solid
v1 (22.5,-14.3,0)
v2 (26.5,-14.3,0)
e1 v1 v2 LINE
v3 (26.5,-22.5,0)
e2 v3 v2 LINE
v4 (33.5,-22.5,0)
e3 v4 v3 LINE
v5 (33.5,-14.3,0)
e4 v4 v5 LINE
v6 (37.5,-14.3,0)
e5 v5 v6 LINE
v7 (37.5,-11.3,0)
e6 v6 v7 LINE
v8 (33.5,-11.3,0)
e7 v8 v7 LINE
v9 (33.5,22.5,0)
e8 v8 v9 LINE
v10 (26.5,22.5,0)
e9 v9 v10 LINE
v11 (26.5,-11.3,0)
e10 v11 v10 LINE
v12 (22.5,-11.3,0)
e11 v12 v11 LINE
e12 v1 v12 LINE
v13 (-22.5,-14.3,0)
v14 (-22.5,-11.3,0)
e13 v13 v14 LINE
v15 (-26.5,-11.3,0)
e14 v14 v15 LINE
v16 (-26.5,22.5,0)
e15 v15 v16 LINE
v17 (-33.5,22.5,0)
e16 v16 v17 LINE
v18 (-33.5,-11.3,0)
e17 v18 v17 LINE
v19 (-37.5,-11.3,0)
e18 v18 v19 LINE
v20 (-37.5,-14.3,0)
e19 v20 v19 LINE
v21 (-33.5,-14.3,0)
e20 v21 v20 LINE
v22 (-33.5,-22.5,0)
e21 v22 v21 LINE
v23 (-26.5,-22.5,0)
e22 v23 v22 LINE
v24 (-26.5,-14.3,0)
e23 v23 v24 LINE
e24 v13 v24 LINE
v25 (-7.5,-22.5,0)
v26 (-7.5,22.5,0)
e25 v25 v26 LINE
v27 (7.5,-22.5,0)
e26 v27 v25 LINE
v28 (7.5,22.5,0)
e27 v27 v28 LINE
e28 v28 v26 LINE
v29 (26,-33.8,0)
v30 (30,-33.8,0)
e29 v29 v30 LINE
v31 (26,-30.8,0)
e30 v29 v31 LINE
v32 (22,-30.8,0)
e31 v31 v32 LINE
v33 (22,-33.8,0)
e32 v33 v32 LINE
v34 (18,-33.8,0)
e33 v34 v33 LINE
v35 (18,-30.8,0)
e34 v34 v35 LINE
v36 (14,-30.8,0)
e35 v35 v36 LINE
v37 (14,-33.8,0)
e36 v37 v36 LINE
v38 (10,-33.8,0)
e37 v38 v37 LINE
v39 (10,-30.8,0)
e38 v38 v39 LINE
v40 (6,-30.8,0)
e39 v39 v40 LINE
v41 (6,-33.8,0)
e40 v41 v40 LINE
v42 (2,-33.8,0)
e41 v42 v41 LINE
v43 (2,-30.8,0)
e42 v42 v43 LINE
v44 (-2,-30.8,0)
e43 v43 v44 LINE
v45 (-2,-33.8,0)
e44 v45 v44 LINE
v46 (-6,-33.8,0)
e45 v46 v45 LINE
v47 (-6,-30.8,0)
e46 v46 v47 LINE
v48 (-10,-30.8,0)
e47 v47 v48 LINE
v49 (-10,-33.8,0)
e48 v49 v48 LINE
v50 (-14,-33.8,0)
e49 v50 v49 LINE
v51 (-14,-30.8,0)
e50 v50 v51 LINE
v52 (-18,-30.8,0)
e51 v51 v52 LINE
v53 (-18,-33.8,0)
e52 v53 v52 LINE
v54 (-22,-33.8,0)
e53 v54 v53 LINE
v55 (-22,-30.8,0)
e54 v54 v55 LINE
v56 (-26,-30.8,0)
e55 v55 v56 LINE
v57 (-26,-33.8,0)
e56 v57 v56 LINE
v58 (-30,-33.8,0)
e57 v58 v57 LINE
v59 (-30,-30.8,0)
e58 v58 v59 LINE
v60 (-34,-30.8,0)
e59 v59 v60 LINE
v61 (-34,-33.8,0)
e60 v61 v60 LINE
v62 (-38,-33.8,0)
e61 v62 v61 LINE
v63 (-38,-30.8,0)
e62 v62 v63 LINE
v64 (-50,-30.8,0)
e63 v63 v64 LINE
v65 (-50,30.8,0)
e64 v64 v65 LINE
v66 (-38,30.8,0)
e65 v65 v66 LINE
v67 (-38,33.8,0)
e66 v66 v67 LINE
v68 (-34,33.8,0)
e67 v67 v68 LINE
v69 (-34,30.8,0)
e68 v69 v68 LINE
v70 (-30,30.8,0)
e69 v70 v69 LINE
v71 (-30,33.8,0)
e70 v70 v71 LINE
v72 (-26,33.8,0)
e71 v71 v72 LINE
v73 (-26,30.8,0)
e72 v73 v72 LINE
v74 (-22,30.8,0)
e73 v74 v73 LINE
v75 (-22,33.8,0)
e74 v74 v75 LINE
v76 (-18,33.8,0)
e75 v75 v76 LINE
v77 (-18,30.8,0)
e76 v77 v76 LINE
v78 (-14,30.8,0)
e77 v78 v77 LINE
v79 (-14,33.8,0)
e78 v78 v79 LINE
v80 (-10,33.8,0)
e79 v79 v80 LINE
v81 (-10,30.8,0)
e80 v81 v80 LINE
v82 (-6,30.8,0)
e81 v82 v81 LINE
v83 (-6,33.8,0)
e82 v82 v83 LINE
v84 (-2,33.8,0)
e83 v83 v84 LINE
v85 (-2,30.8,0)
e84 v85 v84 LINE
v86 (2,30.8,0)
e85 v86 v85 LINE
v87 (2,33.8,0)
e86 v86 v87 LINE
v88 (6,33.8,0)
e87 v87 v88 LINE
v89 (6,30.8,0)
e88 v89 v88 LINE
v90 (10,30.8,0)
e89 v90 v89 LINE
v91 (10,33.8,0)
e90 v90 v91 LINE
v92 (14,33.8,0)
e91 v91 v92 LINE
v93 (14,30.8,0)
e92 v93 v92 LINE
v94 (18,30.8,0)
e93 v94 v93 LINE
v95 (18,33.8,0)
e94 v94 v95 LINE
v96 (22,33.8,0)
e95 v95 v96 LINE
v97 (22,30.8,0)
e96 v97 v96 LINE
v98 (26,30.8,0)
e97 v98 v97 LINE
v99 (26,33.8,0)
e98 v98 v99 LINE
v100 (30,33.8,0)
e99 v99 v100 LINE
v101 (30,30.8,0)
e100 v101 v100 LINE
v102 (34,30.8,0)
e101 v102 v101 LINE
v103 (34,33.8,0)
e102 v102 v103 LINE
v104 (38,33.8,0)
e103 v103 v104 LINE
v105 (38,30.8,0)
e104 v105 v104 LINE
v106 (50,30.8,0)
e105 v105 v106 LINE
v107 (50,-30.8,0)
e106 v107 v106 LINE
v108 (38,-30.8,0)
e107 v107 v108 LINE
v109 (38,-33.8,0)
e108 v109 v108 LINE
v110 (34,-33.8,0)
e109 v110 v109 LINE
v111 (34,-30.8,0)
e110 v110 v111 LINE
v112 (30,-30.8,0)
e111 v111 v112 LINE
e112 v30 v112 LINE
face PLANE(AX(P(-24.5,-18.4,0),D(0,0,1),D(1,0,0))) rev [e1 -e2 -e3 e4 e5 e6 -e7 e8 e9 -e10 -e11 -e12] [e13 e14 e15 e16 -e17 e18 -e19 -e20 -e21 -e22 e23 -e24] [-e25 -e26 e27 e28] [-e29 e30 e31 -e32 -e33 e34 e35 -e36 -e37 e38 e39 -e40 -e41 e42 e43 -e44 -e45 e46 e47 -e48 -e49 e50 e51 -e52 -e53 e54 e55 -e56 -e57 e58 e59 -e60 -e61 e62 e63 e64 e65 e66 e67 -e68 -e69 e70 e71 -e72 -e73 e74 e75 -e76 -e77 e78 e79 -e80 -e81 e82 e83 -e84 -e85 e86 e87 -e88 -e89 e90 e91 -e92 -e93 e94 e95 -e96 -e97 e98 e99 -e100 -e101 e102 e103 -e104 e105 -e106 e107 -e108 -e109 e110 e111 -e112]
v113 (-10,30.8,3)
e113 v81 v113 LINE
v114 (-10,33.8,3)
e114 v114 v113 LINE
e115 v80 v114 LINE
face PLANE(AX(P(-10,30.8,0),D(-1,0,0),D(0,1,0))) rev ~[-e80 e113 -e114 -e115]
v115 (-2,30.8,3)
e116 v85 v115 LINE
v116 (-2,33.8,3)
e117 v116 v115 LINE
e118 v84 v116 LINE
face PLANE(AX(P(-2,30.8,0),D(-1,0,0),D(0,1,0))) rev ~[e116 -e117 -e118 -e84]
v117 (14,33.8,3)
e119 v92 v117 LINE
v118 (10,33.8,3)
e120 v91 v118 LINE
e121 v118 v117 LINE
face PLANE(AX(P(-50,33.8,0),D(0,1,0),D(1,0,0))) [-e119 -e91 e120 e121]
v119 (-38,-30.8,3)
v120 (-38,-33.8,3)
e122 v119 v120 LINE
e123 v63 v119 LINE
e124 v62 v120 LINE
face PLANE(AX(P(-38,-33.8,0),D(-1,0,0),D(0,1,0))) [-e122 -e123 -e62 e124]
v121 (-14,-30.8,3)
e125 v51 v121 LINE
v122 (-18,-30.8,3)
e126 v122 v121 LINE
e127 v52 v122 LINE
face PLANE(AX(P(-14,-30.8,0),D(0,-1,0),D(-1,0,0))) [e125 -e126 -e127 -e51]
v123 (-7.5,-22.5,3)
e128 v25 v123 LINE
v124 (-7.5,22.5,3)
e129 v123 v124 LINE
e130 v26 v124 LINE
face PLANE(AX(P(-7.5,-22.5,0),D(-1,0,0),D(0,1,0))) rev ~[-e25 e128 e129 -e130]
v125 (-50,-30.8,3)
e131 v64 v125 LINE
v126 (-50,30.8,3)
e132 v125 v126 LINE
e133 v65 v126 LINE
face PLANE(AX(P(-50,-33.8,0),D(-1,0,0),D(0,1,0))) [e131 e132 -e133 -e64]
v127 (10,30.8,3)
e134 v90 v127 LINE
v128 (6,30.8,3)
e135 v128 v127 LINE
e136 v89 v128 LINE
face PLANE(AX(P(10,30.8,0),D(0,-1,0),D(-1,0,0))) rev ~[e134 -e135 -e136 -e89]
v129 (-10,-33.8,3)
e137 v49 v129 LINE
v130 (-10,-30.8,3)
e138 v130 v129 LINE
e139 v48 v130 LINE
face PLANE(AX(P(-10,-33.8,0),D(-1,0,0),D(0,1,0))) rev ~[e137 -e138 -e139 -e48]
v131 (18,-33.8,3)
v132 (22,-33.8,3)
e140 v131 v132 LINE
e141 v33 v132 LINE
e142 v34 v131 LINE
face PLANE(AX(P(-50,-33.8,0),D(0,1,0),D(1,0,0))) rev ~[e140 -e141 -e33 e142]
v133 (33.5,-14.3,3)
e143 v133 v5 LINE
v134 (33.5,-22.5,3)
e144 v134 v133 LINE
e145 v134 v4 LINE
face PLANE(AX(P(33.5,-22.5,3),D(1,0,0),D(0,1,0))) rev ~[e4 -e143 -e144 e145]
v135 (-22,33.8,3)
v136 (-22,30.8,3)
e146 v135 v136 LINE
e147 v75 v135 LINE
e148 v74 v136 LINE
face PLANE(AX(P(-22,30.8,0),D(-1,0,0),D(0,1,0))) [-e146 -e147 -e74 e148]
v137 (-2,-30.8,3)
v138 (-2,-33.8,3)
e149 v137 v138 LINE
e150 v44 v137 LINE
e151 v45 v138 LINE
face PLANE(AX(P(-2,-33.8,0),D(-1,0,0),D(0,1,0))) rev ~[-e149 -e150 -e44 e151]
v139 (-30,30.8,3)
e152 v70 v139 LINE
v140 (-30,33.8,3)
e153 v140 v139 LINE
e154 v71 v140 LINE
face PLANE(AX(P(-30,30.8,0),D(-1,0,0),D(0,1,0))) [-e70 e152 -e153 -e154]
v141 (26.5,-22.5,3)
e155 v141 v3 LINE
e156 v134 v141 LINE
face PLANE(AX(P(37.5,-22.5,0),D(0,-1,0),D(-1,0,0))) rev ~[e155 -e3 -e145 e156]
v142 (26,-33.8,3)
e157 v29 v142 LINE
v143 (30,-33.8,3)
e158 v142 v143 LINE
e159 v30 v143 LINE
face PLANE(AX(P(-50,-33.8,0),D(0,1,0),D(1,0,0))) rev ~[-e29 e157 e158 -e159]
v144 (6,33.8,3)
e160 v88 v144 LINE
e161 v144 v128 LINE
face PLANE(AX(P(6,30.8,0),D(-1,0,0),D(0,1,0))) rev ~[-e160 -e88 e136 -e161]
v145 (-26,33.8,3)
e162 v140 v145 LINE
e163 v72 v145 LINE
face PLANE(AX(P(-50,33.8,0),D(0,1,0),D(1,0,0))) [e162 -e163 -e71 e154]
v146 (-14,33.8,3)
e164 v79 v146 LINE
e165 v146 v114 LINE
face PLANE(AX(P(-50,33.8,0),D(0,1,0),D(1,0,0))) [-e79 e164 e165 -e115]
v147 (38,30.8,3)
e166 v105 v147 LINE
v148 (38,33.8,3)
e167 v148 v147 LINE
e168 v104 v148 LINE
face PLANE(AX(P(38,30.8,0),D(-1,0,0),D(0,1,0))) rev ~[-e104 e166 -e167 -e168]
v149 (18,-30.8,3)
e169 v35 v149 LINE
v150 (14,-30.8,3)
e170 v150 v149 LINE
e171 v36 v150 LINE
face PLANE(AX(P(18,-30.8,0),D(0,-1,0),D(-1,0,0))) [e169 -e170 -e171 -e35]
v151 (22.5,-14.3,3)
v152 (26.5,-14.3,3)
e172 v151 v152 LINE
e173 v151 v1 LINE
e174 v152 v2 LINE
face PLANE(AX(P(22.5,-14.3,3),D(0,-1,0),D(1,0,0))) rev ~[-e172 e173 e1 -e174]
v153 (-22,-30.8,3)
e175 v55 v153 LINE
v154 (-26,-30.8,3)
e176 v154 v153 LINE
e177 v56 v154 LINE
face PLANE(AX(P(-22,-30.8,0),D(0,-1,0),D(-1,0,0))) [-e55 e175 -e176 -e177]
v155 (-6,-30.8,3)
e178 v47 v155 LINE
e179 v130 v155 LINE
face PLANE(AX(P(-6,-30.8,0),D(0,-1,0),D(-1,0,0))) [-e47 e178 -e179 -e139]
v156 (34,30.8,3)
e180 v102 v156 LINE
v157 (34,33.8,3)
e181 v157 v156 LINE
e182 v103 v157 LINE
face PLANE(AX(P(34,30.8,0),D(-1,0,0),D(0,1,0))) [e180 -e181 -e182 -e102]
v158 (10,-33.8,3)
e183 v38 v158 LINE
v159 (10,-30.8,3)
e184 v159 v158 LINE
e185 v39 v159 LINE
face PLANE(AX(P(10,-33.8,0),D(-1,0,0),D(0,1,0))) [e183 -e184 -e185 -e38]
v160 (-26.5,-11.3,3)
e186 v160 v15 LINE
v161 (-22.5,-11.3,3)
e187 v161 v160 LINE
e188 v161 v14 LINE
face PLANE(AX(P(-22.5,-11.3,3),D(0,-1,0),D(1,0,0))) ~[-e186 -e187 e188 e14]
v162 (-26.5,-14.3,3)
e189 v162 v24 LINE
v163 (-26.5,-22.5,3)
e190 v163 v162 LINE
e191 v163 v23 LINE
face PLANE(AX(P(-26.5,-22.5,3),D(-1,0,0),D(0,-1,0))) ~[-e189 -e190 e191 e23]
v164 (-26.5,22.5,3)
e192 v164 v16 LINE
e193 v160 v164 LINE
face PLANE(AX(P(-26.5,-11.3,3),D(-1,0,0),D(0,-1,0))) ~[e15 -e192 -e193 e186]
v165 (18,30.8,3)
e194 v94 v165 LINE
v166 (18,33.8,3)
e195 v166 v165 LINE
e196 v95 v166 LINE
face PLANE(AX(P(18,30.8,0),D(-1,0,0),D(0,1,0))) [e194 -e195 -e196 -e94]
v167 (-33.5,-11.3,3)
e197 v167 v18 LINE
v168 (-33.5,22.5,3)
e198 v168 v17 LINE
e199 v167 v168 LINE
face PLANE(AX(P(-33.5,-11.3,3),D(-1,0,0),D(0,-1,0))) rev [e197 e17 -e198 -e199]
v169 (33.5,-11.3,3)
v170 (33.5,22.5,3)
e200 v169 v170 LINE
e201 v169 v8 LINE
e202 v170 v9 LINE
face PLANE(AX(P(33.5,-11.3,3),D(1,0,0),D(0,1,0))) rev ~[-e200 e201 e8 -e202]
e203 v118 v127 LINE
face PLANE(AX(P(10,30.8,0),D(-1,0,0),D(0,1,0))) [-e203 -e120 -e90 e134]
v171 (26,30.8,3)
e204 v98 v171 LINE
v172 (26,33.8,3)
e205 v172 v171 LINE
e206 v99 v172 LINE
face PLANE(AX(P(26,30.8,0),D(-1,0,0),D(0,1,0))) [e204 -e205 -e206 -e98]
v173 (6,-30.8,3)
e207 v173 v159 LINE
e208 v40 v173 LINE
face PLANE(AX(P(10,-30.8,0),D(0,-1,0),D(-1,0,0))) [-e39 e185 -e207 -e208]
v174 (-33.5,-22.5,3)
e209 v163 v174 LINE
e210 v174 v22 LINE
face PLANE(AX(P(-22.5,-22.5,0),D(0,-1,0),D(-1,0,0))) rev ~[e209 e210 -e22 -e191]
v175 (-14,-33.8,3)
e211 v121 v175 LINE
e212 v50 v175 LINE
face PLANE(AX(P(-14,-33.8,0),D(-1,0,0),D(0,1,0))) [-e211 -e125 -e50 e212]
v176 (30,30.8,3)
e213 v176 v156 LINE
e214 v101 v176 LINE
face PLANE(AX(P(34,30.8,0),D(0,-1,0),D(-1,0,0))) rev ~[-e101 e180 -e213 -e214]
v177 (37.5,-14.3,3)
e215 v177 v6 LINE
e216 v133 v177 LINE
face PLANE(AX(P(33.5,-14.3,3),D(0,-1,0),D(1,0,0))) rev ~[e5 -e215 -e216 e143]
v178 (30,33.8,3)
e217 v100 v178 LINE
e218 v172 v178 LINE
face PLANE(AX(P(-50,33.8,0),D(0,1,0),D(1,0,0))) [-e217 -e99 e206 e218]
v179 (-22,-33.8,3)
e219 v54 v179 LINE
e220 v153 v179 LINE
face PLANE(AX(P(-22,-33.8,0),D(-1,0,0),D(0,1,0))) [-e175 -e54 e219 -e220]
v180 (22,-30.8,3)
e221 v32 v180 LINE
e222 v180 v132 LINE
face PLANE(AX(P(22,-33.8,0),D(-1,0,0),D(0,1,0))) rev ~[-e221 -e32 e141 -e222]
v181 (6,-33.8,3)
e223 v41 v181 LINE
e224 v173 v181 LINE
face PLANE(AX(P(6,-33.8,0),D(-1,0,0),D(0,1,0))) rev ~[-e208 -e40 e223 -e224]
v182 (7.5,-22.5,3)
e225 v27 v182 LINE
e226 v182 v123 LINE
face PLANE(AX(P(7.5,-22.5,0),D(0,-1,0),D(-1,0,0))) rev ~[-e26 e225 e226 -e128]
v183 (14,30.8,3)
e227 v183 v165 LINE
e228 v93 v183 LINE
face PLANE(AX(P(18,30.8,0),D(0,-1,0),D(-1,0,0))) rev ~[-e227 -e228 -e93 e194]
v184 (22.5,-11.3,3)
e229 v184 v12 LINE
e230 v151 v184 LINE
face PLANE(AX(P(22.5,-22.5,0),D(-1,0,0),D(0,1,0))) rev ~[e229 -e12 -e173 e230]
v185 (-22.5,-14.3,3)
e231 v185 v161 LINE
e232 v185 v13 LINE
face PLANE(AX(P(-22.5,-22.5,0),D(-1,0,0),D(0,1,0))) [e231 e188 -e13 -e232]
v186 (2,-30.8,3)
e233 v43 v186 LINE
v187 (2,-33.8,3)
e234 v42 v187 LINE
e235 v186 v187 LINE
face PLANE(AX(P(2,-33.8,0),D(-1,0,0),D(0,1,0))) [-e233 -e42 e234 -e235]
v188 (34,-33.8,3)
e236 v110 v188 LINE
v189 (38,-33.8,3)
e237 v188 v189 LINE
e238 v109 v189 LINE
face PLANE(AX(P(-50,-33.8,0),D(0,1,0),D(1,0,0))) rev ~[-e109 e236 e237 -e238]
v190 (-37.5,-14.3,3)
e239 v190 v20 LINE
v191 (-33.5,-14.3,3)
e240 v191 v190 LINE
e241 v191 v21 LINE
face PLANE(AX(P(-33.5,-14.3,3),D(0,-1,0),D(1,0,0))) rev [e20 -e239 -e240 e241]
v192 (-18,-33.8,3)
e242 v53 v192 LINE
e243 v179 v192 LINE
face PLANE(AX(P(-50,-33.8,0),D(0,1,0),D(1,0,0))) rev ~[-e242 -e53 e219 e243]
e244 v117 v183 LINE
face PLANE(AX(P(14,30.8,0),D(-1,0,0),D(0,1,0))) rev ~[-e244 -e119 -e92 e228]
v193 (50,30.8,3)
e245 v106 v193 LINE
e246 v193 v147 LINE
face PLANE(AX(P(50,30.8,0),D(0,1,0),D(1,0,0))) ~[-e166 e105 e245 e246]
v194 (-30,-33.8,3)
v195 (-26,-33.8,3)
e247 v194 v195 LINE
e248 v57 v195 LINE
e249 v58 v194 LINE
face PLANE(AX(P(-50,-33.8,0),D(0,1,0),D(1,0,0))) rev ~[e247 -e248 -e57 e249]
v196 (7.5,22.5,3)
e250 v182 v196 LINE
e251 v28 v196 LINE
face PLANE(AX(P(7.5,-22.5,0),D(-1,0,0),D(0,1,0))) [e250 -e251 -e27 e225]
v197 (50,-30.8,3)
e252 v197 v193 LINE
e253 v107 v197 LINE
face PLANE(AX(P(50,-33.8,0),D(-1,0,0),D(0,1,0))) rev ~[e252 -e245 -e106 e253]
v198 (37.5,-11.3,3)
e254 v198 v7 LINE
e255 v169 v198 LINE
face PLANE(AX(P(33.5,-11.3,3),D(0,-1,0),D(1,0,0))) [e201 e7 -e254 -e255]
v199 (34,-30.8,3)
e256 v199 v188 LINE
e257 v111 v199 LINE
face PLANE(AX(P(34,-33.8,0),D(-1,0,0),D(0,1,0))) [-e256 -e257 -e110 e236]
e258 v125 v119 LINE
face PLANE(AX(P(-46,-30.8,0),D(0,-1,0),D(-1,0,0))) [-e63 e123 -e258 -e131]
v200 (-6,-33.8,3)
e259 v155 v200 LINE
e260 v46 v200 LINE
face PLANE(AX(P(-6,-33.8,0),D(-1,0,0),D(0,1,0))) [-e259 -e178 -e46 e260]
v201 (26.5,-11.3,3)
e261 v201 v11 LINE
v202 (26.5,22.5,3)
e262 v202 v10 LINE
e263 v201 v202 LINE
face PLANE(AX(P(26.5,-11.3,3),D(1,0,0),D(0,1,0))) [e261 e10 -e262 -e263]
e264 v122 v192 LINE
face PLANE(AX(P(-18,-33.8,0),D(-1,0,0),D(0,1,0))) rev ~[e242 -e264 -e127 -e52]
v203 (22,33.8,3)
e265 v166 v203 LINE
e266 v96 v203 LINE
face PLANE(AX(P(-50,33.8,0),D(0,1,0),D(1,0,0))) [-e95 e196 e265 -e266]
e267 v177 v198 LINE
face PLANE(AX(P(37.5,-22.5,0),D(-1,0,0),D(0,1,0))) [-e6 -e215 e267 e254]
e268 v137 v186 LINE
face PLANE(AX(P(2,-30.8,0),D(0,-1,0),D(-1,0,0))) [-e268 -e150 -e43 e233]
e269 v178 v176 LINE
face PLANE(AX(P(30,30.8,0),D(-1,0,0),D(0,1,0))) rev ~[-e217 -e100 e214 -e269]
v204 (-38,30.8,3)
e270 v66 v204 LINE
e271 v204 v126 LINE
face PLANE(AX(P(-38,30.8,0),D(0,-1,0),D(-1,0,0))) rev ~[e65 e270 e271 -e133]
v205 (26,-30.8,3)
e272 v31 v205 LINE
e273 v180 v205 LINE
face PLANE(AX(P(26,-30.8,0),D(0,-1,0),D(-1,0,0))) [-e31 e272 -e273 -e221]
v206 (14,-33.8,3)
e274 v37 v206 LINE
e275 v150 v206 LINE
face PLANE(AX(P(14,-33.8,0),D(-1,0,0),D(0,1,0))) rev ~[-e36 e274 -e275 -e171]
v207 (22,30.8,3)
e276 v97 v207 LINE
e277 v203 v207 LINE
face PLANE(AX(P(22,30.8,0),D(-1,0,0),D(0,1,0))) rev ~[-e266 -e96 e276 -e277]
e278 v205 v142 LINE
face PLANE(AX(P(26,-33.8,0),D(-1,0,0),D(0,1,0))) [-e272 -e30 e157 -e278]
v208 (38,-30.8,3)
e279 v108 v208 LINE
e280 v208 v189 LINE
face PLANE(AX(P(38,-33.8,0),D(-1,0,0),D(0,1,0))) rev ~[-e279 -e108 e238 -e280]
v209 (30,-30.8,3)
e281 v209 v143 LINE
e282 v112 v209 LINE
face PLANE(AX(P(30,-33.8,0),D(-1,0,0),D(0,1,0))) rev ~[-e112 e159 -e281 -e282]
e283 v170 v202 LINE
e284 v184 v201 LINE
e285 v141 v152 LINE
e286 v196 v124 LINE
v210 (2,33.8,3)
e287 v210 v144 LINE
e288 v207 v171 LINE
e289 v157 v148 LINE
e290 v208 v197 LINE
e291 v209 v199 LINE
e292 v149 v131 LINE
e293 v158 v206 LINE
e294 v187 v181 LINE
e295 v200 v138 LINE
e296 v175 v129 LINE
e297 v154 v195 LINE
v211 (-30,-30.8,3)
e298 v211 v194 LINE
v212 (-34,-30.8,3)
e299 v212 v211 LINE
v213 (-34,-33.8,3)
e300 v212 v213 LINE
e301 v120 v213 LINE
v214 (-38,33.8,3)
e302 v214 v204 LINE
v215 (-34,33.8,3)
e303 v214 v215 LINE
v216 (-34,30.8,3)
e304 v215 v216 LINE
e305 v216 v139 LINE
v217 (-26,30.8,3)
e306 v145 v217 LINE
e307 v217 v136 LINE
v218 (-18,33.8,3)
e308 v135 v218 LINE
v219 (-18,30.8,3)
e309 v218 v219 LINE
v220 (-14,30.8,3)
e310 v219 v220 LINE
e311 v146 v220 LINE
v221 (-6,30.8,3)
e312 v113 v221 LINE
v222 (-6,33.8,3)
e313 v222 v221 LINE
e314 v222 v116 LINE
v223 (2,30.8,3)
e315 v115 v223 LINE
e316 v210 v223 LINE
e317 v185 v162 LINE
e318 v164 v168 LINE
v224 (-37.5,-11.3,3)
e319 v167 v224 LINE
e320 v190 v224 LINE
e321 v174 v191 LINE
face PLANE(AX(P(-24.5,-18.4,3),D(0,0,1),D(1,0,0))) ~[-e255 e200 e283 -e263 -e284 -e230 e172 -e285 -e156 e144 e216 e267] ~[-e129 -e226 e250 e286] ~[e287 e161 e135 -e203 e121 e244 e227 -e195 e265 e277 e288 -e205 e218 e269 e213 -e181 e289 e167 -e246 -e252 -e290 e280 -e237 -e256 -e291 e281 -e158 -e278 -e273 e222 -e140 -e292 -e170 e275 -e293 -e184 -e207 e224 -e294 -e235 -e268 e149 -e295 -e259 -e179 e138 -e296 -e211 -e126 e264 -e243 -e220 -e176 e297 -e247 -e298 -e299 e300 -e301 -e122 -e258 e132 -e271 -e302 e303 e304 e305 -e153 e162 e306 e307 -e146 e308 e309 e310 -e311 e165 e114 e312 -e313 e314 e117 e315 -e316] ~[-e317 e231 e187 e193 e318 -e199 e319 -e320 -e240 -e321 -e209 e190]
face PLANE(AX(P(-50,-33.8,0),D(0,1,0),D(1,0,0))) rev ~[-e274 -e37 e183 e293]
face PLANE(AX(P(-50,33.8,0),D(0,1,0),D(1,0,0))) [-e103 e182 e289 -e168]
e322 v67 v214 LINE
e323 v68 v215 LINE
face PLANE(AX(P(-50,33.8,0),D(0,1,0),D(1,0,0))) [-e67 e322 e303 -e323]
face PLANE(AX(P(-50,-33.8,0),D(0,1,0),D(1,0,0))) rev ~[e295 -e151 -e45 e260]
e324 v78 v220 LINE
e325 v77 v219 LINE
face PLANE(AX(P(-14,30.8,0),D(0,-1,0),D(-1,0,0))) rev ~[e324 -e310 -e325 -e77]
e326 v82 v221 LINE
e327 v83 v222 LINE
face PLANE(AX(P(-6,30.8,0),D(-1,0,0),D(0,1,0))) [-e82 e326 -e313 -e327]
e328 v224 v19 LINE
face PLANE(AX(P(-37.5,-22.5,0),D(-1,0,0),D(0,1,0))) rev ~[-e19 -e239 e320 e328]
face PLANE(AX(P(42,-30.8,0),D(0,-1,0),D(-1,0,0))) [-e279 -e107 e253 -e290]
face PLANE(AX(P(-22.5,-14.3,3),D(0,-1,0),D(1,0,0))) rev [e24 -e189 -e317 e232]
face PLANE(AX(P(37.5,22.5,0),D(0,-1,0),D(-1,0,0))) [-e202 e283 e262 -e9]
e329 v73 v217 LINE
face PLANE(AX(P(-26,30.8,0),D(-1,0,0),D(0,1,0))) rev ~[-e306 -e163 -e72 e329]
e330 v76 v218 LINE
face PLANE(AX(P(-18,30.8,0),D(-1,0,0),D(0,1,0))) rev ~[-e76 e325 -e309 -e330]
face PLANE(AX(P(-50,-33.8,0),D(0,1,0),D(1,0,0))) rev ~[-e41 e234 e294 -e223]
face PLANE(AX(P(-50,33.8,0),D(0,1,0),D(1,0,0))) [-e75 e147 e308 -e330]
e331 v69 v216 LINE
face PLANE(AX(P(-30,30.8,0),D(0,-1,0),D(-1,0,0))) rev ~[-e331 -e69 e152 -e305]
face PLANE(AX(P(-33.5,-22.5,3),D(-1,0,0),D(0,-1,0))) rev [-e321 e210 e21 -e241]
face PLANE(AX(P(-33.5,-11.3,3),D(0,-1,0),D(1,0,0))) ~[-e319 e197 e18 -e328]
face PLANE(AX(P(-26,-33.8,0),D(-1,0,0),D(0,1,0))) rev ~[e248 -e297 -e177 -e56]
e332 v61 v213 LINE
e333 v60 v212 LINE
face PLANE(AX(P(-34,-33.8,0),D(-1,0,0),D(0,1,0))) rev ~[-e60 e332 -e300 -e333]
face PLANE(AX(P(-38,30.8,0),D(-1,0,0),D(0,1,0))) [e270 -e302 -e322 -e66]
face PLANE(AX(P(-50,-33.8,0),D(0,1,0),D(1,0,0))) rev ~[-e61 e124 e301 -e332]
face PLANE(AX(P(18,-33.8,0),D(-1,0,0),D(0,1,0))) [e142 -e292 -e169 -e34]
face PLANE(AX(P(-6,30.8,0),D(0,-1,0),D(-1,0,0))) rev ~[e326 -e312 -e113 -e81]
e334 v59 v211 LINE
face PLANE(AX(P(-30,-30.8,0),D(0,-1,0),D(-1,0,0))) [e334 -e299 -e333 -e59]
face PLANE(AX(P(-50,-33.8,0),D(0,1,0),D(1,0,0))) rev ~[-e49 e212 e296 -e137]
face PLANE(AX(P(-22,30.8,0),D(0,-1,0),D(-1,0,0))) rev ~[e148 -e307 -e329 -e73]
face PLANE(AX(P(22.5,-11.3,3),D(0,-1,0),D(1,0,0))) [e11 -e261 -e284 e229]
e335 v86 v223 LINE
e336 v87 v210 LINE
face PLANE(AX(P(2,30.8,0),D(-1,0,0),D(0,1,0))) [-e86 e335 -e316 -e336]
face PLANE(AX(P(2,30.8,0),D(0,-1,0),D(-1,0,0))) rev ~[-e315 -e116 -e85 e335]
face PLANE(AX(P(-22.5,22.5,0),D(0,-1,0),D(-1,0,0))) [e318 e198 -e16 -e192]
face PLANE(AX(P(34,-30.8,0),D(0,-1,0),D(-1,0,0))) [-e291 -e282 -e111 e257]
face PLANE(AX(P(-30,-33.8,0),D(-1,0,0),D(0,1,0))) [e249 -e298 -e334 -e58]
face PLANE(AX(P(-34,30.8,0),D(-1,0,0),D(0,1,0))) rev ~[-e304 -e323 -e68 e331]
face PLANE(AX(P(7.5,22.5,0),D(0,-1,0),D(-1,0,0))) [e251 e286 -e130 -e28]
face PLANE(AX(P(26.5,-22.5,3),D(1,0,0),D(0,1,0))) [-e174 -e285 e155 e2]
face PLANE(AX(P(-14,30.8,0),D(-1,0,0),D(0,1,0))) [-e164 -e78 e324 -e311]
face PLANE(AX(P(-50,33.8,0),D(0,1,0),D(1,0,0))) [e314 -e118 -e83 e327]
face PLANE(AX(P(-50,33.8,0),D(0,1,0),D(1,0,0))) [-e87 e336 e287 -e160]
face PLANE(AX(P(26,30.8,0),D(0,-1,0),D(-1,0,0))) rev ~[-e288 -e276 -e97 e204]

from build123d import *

# Parameters (mm, degrees)
SKETCH1_W                = 100
SKETCH1_H                = 67.6
BOSS_EXTRUDE1_DEPTH      = 3
SKETCH3_W                = 4
SKETCH3_H                = 3
CUT_EXTRUDE1_DEPTH       = 10
LPATTERN1_COUNT          = 13
LPATTERN1_PITCH          = 8
SKETCH7_W                = 15
SKETCH7_H                = 45
CUT_EXTRUDE5_DEPTH       = 3
MIRROR1_COPY_1_SKETCH_W  = 4
MIRROR1_COPY_1_SKETCH_H  = 3
MIRROR1_COPY_1_DEPTH     = 10
MIRROR1_COPY_2_SKETCH_W  = 4
MIRROR1_COPY_2_SKETCH_H  = 3
MIRROR1_COPY_2_DEPTH     = 10
MIRROR1_COPY_3_SKETCH_W  = 4
MIRROR1_COPY_3_SKETCH_H  = 3
MIRROR1_COPY_3_DEPTH     = 10
MIRROR1_COPY_4_SKETCH_W  = 4
MIRROR1_COPY_4_SKETCH_H  = 3
MIRROR1_COPY_4_DEPTH     = 10
MIRROR1_COPY_5_SKETCH_W  = 4
MIRROR1_COPY_5_SKETCH_H  = 3
MIRROR1_COPY_5_DEPTH     = 10
MIRROR1_COPY_6_SKETCH_W  = 4
MIRROR1_COPY_6_SKETCH_H  = 3
MIRROR1_COPY_6_DEPTH     = 10
MIRROR1_COPY_7_SKETCH_W  = 4
MIRROR1_COPY_7_SKETCH_H  = 3
MIRROR1_COPY_7_DEPTH     = 10
MIRROR1_COPY_8_SKETCH_W  = 4
MIRROR1_COPY_8_SKETCH_H  = 3
MIRROR1_COPY_8_DEPTH     = 10
MIRROR1_COPY_9_SKETCH_W  = 4
MIRROR1_COPY_9_SKETCH_H  = 3
MIRROR1_COPY_9_DEPTH     = 10
MIRROR1_COPY_10_SKETCH_W = 4
MIRROR1_COPY_10_SKETCH_H = 3
MIRROR1_COPY_10_DEPTH    = 10
MIRROR1_COPY_11_SKETCH_W = 4
MIRROR1_COPY_11_SKETCH_H = 3
MIRROR1_COPY_11_DEPTH    = 10
MIRROR1_COPY_12_SKETCH_W = 4
MIRROR1_COPY_12_SKETCH_H = 3
MIRROR1_COPY_12_DEPTH    = 10
LPATTERN2_COUNT          = 2
LPATTERN2_PITCH          = 30
LPATTERN2_COL_COUNT      = 2
LPATTERN2_COL_PITCH      = 30
SKETCH8_W                = 4
SKETCH8_H                = 8.2
SKETCH8_H_2              = 33.8
BOSS_EXTRUDE2_DEPTH      = 3
CUT_EXTRUDE6_REACH       = 5
SKETCH9_W                = 12
SKETCH9_H                = 3


with BuildPart() as part:
    # Sketch1 → Boss-Extrude1 (new body)
    with BuildSketch(Plane.XY):
        Rectangle(SKETCH1_W, SKETCH1_H)
    extrude(amount=BOSS_EXTRUDE1_DEPTH)

    # Sketch3 → Cut-Extrude1 (cut)
    with BuildSketch(Plane(origin=(0, 0, 0), x_dir=(-1, 0, 0), z_dir=(0, 0, -1))):
        with Locations((-48, -32.3)):
            Rectangle(SKETCH3_W, SKETCH3_H)
    cut_extrude1 = extrude(amount=-CUT_EXTRUDE1_DEPTH, mode=Mode.SUBTRACT)

    # LPattern1: Cut-Extrude1 ×13
    with Locations(*[(-i * LPATTERN1_PITCH, 0, 0) for i in range(1, LPATTERN1_COUNT)]):
        add(cut_extrude1, mode=Mode.SUBTRACT)

    # Sketch7 → Cut-Extrude5 (cut)
    with BuildSketch(Plane(origin=(0, 0, 0), x_dir=(-1, 0, 0), z_dir=(0, 0, -1))):
        Rectangle(SKETCH7_W, SKETCH7_H)
    cut_extrude5 = extrude(amount=-CUT_EXTRUDE5_DEPTH, mode=Mode.SUBTRACT)

    # Mirror1: Cut-Extrude1 across plane
    add(cut_extrude1.mirror(Plane.ZX), mode=Mode.SUBTRACT)

    # Mirror1 copy 1 sketch → Mirror1 copy 1 (cut)
    with BuildSketch(Plane(origin=(-8, 0, 0), x_dir=(-1, 0, 0), z_dir=(0, 0, -1))):
        with Locations((-48, 32.3)):
            Rectangle(MIRROR1_COPY_1_SKETCH_W, MIRROR1_COPY_1_SKETCH_H)
    extrude(amount=-MIRROR1_COPY_1_DEPTH, mode=Mode.SUBTRACT)

    # Mirror1 copy 2 sketch → Mirror1 copy 2 (cut)
    with BuildSketch(Plane(origin=(-16, 0, 0), x_dir=(-1, 0, 0), z_dir=(0, 0, -1))):
        with Locations((-48, 32.3)):
            Rectangle(MIRROR1_COPY_2_SKETCH_W, MIRROR1_COPY_2_SKETCH_H)
    extrude(amount=-MIRROR1_COPY_2_DEPTH, mode=Mode.SUBTRACT)

    # Mirror1 copy 3 sketch → Mirror1 copy 3 (cut)
    with BuildSketch(Plane(origin=(-24, 0, 0), x_dir=(-1, 0, 0), z_dir=(0, 0, -1))):
        with Locations((-48, 32.3)):
            Rectangle(MIRROR1_COPY_3_SKETCH_W, MIRROR1_COPY_3_SKETCH_H)
    extrude(amount=-MIRROR1_COPY_3_DEPTH, mode=Mode.SUBTRACT)

    # Mirror1 copy 4 sketch → Mirror1 copy 4 (cut)
    with BuildSketch(Plane(origin=(-32, 0, 0), x_dir=(-1, 0, 0), z_dir=(0, 0, -1))):
        with Locations((-48, 32.3)):
            Rectangle(MIRROR1_COPY_4_SKETCH_W, MIRROR1_COPY_4_SKETCH_H)
    extrude(amount=-MIRROR1_COPY_4_DEPTH, mode=Mode.SUBTRACT)

    # Mirror1 copy 5 sketch → Mirror1 copy 5 (cut)
    with BuildSketch(Plane(origin=(-40, 0, 0), x_dir=(-1, 0, 0), z_dir=(0, 0, -1))):
        with Locations((-48, 32.3)):
            Rectangle(MIRROR1_COPY_5_SKETCH_W, MIRROR1_COPY_5_SKETCH_H)
    extrude(amount=-MIRROR1_COPY_5_DEPTH, mode=Mode.SUBTRACT)

    # Mirror1 copy 6 sketch → Mirror1 copy 6 (cut)
    with BuildSketch(Plane(origin=(-48, 0, 0), x_dir=(-1, 0, 0), z_dir=(0, 0, -1))):
        with Locations((-48, 32.3)):
            Rectangle(MIRROR1_COPY_6_SKETCH_W, MIRROR1_COPY_6_SKETCH_H)
    extrude(amount=-MIRROR1_COPY_6_DEPTH, mode=Mode.SUBTRACT)

    # Mirror1 copy 7 sketch → Mirror1 copy 7 (cut)
    with BuildSketch(Plane(origin=(-56, 0, 0), x_dir=(-1, 0, 0), z_dir=(0, 0, -1))):
        with Locations((-48, 32.3)):
            Rectangle(MIRROR1_COPY_7_SKETCH_W, MIRROR1_COPY_7_SKETCH_H)
    extrude(amount=-MIRROR1_COPY_7_DEPTH, mode=Mode.SUBTRACT)

    # Mirror1 copy 8 sketch → Mirror1 copy 8 (cut)
    with BuildSketch(Plane(origin=(-64, 0, 0), x_dir=(-1, 0, 0), z_dir=(0, 0, -1))):
        with Locations((-48, 32.3)):
            Rectangle(MIRROR1_COPY_8_SKETCH_W, MIRROR1_COPY_8_SKETCH_H)
    extrude(amount=-MIRROR1_COPY_8_DEPTH, mode=Mode.SUBTRACT)

    # Mirror1 copy 9 sketch → Mirror1 copy 9 (cut)
    with BuildSketch(Plane(origin=(-72, 0, 0), x_dir=(-1, 0, 0), z_dir=(0, 0, -1))):
        with Locations((-48, 32.3)):
            Rectangle(MIRROR1_COPY_9_SKETCH_W, MIRROR1_COPY_9_SKETCH_H)
    extrude(amount=-MIRROR1_COPY_9_DEPTH, mode=Mode.SUBTRACT)

    # Mirror1 copy 10 sketch → Mirror1 copy 10 (cut)
    with BuildSketch(Plane(origin=(-80, 0, 0), x_dir=(-1, 0, 0), z_dir=(0, 0, -1))):
        with Locations((-48, 32.3)):
            Rectangle(MIRROR1_COPY_10_SKETCH_W, MIRROR1_COPY_10_SKETCH_H)
    extrude(amount=-MIRROR1_COPY_10_DEPTH, mode=Mode.SUBTRACT)

    # Mirror1 copy 11 sketch → Mirror1 copy 11 (cut)
    with BuildSketch(Plane(origin=(-88, 0, 0), x_dir=(-1, 0, 0), z_dir=(0, 0, -1))):
        with Locations((-48, 32.3)):
            Rectangle(MIRROR1_COPY_11_SKETCH_W, MIRROR1_COPY_11_SKETCH_H)
    extrude(amount=-MIRROR1_COPY_11_DEPTH, mode=Mode.SUBTRACT)

    # Mirror1 copy 12 sketch → Mirror1 copy 12 (cut)
    with BuildSketch(Plane(origin=(-96, 0, 0), x_dir=(-1, 0, 0), z_dir=(0, 0, -1))):
        with Locations((-48, 32.3)):
            Rectangle(MIRROR1_COPY_12_SKETCH_W, MIRROR1_COPY_12_SKETCH_H)
    extrude(amount=-MIRROR1_COPY_12_DEPTH, mode=Mode.SUBTRACT)

    # LPattern2: Cut-Extrude5 ×2
    with Locations(*[(-i * LPATTERN2_PITCH, 0, 0) for i in range(1, LPATTERN2_COUNT)]):
        add(cut_extrude5, mode=Mode.SUBTRACT)

    # LPattern2 col: Cut-Extrude5 ×2
    with Locations(*[(i * LPATTERN2_COL_PITCH, 0, 0) for i in range(1, LPATTERN2_COL_COUNT)]):
        add(cut_extrude5, mode=Mode.SUBTRACT)

    # Sketch8 → Boss-Extrude2 (add)
    with BuildSketch(Plane.XY.offset(3)):
        with Locations((24.5, -18.4)):
            Rectangle(SKETCH8_W, SKETCH8_H)
        with Locations((24.5, 5.6)):
            Rectangle(SKETCH8_W, SKETCH8_H_2)
        with Locations((35.5, 5.6)):
            Rectangle(SKETCH8_W, SKETCH8_H_2)
        with Locations((35.5, -18.4)):
            Rectangle(SKETCH8_W, SKETCH8_H)
    boss_extrude2 = extrude(amount=-BOSS_EXTRUDE2_DEPTH)

    # Mirror2: Boss-Extrude2 across plane
    add(boss_extrude2.mirror(Plane(origin=(0, 0, 0), x_dir=(0, 0, 1), z_dir=(1, 0, 0))))

    # Sketch9 → Cut-Extrude6 (cut, up to next)
    with BuildSketch(Plane(origin=(0, 0, 0), x_dir=(-1, 0, 0), z_dir=(0, 0, -1)), mode=Mode.PRIVATE) as cut_extrude6_sk1:
        with Locations((-44, 32.3)):
            Rectangle(SKETCH9_W, SKETCH9_H)
    cut_extrude6_tool1 = extrude(cut_extrude6_sk1.sketch, amount=-CUT_EXTRUDE6_REACH, mode=Mode.PRIVATE) & part.part
    add(cut_extrude6_tool1.solids().sort_by_distance((44, 32.3, 0))[0], mode=Mode.SUBTRACT)
    # Sketch9 → Cut-Extrude6 (cut, up to next)
    with BuildSketch(Plane(origin=(0, 0, 0), x_dir=(-1, 0, 0), z_dir=(0, 0, -1)), mode=Mode.PRIVATE) as cut_extrude6_sk2:
        with Locations((44, 32.3)):
            Rectangle(SKETCH9_W, SKETCH9_H)
    cut_extrude6_tool2 = extrude(cut_extrude6_sk2.sketch, amount=-CUT_EXTRUDE6_REACH, mode=Mode.PRIVATE) & part.part
    add(cut_extrude6_tool2.solids().sort_by_distance((-44, 32.3, 0))[0], mode=Mode.SUBTRACT)
    # Sketch9 → Cut-Extrude6 (cut, up to next)
    with BuildSketch(Plane(origin=(0, 0, 0), x_dir=(-1, 0, 0), z_dir=(0, 0, -1)), mode=Mode.PRIVATE) as cut_extrude6_sk3:
        with Locations((44, -32.3)):
            Rectangle(SKETCH9_W, SKETCH9_H)
    cut_extrude6_tool3 = extrude(cut_extrude6_sk3.sketch, amount=-CUT_EXTRUDE6_REACH, mode=Mode.PRIVATE) & part.part
    add(cut_extrude6_tool3.solids().sort_by_distance((-44, -32.3, 0))[0], mode=Mode.SUBTRACT)
    # Sketch9 → Cut-Extrude6 (cut, up to next)
    with BuildSketch(Plane(origin=(0, 0, 0), x_dir=(-1, 0, 0), z_dir=(0, 0, -1)), mode=Mode.PRIVATE) as cut_extrude6_sk4:
        with Locations((-44, -32.3)):
            Rectangle(SKETCH9_W, SKETCH9_H)
    cut_extrude6_tool4 = extrude(cut_extrude6_sk4.sketch, amount=-CUT_EXTRUDE6_REACH, mode=Mode.PRIVATE) & part.part
    add(cut_extrude6_tool4.solids().sort_by_distance((44, -32.3, 0))[0], mode=Mode.SUBTRACT)


solid = part.part
